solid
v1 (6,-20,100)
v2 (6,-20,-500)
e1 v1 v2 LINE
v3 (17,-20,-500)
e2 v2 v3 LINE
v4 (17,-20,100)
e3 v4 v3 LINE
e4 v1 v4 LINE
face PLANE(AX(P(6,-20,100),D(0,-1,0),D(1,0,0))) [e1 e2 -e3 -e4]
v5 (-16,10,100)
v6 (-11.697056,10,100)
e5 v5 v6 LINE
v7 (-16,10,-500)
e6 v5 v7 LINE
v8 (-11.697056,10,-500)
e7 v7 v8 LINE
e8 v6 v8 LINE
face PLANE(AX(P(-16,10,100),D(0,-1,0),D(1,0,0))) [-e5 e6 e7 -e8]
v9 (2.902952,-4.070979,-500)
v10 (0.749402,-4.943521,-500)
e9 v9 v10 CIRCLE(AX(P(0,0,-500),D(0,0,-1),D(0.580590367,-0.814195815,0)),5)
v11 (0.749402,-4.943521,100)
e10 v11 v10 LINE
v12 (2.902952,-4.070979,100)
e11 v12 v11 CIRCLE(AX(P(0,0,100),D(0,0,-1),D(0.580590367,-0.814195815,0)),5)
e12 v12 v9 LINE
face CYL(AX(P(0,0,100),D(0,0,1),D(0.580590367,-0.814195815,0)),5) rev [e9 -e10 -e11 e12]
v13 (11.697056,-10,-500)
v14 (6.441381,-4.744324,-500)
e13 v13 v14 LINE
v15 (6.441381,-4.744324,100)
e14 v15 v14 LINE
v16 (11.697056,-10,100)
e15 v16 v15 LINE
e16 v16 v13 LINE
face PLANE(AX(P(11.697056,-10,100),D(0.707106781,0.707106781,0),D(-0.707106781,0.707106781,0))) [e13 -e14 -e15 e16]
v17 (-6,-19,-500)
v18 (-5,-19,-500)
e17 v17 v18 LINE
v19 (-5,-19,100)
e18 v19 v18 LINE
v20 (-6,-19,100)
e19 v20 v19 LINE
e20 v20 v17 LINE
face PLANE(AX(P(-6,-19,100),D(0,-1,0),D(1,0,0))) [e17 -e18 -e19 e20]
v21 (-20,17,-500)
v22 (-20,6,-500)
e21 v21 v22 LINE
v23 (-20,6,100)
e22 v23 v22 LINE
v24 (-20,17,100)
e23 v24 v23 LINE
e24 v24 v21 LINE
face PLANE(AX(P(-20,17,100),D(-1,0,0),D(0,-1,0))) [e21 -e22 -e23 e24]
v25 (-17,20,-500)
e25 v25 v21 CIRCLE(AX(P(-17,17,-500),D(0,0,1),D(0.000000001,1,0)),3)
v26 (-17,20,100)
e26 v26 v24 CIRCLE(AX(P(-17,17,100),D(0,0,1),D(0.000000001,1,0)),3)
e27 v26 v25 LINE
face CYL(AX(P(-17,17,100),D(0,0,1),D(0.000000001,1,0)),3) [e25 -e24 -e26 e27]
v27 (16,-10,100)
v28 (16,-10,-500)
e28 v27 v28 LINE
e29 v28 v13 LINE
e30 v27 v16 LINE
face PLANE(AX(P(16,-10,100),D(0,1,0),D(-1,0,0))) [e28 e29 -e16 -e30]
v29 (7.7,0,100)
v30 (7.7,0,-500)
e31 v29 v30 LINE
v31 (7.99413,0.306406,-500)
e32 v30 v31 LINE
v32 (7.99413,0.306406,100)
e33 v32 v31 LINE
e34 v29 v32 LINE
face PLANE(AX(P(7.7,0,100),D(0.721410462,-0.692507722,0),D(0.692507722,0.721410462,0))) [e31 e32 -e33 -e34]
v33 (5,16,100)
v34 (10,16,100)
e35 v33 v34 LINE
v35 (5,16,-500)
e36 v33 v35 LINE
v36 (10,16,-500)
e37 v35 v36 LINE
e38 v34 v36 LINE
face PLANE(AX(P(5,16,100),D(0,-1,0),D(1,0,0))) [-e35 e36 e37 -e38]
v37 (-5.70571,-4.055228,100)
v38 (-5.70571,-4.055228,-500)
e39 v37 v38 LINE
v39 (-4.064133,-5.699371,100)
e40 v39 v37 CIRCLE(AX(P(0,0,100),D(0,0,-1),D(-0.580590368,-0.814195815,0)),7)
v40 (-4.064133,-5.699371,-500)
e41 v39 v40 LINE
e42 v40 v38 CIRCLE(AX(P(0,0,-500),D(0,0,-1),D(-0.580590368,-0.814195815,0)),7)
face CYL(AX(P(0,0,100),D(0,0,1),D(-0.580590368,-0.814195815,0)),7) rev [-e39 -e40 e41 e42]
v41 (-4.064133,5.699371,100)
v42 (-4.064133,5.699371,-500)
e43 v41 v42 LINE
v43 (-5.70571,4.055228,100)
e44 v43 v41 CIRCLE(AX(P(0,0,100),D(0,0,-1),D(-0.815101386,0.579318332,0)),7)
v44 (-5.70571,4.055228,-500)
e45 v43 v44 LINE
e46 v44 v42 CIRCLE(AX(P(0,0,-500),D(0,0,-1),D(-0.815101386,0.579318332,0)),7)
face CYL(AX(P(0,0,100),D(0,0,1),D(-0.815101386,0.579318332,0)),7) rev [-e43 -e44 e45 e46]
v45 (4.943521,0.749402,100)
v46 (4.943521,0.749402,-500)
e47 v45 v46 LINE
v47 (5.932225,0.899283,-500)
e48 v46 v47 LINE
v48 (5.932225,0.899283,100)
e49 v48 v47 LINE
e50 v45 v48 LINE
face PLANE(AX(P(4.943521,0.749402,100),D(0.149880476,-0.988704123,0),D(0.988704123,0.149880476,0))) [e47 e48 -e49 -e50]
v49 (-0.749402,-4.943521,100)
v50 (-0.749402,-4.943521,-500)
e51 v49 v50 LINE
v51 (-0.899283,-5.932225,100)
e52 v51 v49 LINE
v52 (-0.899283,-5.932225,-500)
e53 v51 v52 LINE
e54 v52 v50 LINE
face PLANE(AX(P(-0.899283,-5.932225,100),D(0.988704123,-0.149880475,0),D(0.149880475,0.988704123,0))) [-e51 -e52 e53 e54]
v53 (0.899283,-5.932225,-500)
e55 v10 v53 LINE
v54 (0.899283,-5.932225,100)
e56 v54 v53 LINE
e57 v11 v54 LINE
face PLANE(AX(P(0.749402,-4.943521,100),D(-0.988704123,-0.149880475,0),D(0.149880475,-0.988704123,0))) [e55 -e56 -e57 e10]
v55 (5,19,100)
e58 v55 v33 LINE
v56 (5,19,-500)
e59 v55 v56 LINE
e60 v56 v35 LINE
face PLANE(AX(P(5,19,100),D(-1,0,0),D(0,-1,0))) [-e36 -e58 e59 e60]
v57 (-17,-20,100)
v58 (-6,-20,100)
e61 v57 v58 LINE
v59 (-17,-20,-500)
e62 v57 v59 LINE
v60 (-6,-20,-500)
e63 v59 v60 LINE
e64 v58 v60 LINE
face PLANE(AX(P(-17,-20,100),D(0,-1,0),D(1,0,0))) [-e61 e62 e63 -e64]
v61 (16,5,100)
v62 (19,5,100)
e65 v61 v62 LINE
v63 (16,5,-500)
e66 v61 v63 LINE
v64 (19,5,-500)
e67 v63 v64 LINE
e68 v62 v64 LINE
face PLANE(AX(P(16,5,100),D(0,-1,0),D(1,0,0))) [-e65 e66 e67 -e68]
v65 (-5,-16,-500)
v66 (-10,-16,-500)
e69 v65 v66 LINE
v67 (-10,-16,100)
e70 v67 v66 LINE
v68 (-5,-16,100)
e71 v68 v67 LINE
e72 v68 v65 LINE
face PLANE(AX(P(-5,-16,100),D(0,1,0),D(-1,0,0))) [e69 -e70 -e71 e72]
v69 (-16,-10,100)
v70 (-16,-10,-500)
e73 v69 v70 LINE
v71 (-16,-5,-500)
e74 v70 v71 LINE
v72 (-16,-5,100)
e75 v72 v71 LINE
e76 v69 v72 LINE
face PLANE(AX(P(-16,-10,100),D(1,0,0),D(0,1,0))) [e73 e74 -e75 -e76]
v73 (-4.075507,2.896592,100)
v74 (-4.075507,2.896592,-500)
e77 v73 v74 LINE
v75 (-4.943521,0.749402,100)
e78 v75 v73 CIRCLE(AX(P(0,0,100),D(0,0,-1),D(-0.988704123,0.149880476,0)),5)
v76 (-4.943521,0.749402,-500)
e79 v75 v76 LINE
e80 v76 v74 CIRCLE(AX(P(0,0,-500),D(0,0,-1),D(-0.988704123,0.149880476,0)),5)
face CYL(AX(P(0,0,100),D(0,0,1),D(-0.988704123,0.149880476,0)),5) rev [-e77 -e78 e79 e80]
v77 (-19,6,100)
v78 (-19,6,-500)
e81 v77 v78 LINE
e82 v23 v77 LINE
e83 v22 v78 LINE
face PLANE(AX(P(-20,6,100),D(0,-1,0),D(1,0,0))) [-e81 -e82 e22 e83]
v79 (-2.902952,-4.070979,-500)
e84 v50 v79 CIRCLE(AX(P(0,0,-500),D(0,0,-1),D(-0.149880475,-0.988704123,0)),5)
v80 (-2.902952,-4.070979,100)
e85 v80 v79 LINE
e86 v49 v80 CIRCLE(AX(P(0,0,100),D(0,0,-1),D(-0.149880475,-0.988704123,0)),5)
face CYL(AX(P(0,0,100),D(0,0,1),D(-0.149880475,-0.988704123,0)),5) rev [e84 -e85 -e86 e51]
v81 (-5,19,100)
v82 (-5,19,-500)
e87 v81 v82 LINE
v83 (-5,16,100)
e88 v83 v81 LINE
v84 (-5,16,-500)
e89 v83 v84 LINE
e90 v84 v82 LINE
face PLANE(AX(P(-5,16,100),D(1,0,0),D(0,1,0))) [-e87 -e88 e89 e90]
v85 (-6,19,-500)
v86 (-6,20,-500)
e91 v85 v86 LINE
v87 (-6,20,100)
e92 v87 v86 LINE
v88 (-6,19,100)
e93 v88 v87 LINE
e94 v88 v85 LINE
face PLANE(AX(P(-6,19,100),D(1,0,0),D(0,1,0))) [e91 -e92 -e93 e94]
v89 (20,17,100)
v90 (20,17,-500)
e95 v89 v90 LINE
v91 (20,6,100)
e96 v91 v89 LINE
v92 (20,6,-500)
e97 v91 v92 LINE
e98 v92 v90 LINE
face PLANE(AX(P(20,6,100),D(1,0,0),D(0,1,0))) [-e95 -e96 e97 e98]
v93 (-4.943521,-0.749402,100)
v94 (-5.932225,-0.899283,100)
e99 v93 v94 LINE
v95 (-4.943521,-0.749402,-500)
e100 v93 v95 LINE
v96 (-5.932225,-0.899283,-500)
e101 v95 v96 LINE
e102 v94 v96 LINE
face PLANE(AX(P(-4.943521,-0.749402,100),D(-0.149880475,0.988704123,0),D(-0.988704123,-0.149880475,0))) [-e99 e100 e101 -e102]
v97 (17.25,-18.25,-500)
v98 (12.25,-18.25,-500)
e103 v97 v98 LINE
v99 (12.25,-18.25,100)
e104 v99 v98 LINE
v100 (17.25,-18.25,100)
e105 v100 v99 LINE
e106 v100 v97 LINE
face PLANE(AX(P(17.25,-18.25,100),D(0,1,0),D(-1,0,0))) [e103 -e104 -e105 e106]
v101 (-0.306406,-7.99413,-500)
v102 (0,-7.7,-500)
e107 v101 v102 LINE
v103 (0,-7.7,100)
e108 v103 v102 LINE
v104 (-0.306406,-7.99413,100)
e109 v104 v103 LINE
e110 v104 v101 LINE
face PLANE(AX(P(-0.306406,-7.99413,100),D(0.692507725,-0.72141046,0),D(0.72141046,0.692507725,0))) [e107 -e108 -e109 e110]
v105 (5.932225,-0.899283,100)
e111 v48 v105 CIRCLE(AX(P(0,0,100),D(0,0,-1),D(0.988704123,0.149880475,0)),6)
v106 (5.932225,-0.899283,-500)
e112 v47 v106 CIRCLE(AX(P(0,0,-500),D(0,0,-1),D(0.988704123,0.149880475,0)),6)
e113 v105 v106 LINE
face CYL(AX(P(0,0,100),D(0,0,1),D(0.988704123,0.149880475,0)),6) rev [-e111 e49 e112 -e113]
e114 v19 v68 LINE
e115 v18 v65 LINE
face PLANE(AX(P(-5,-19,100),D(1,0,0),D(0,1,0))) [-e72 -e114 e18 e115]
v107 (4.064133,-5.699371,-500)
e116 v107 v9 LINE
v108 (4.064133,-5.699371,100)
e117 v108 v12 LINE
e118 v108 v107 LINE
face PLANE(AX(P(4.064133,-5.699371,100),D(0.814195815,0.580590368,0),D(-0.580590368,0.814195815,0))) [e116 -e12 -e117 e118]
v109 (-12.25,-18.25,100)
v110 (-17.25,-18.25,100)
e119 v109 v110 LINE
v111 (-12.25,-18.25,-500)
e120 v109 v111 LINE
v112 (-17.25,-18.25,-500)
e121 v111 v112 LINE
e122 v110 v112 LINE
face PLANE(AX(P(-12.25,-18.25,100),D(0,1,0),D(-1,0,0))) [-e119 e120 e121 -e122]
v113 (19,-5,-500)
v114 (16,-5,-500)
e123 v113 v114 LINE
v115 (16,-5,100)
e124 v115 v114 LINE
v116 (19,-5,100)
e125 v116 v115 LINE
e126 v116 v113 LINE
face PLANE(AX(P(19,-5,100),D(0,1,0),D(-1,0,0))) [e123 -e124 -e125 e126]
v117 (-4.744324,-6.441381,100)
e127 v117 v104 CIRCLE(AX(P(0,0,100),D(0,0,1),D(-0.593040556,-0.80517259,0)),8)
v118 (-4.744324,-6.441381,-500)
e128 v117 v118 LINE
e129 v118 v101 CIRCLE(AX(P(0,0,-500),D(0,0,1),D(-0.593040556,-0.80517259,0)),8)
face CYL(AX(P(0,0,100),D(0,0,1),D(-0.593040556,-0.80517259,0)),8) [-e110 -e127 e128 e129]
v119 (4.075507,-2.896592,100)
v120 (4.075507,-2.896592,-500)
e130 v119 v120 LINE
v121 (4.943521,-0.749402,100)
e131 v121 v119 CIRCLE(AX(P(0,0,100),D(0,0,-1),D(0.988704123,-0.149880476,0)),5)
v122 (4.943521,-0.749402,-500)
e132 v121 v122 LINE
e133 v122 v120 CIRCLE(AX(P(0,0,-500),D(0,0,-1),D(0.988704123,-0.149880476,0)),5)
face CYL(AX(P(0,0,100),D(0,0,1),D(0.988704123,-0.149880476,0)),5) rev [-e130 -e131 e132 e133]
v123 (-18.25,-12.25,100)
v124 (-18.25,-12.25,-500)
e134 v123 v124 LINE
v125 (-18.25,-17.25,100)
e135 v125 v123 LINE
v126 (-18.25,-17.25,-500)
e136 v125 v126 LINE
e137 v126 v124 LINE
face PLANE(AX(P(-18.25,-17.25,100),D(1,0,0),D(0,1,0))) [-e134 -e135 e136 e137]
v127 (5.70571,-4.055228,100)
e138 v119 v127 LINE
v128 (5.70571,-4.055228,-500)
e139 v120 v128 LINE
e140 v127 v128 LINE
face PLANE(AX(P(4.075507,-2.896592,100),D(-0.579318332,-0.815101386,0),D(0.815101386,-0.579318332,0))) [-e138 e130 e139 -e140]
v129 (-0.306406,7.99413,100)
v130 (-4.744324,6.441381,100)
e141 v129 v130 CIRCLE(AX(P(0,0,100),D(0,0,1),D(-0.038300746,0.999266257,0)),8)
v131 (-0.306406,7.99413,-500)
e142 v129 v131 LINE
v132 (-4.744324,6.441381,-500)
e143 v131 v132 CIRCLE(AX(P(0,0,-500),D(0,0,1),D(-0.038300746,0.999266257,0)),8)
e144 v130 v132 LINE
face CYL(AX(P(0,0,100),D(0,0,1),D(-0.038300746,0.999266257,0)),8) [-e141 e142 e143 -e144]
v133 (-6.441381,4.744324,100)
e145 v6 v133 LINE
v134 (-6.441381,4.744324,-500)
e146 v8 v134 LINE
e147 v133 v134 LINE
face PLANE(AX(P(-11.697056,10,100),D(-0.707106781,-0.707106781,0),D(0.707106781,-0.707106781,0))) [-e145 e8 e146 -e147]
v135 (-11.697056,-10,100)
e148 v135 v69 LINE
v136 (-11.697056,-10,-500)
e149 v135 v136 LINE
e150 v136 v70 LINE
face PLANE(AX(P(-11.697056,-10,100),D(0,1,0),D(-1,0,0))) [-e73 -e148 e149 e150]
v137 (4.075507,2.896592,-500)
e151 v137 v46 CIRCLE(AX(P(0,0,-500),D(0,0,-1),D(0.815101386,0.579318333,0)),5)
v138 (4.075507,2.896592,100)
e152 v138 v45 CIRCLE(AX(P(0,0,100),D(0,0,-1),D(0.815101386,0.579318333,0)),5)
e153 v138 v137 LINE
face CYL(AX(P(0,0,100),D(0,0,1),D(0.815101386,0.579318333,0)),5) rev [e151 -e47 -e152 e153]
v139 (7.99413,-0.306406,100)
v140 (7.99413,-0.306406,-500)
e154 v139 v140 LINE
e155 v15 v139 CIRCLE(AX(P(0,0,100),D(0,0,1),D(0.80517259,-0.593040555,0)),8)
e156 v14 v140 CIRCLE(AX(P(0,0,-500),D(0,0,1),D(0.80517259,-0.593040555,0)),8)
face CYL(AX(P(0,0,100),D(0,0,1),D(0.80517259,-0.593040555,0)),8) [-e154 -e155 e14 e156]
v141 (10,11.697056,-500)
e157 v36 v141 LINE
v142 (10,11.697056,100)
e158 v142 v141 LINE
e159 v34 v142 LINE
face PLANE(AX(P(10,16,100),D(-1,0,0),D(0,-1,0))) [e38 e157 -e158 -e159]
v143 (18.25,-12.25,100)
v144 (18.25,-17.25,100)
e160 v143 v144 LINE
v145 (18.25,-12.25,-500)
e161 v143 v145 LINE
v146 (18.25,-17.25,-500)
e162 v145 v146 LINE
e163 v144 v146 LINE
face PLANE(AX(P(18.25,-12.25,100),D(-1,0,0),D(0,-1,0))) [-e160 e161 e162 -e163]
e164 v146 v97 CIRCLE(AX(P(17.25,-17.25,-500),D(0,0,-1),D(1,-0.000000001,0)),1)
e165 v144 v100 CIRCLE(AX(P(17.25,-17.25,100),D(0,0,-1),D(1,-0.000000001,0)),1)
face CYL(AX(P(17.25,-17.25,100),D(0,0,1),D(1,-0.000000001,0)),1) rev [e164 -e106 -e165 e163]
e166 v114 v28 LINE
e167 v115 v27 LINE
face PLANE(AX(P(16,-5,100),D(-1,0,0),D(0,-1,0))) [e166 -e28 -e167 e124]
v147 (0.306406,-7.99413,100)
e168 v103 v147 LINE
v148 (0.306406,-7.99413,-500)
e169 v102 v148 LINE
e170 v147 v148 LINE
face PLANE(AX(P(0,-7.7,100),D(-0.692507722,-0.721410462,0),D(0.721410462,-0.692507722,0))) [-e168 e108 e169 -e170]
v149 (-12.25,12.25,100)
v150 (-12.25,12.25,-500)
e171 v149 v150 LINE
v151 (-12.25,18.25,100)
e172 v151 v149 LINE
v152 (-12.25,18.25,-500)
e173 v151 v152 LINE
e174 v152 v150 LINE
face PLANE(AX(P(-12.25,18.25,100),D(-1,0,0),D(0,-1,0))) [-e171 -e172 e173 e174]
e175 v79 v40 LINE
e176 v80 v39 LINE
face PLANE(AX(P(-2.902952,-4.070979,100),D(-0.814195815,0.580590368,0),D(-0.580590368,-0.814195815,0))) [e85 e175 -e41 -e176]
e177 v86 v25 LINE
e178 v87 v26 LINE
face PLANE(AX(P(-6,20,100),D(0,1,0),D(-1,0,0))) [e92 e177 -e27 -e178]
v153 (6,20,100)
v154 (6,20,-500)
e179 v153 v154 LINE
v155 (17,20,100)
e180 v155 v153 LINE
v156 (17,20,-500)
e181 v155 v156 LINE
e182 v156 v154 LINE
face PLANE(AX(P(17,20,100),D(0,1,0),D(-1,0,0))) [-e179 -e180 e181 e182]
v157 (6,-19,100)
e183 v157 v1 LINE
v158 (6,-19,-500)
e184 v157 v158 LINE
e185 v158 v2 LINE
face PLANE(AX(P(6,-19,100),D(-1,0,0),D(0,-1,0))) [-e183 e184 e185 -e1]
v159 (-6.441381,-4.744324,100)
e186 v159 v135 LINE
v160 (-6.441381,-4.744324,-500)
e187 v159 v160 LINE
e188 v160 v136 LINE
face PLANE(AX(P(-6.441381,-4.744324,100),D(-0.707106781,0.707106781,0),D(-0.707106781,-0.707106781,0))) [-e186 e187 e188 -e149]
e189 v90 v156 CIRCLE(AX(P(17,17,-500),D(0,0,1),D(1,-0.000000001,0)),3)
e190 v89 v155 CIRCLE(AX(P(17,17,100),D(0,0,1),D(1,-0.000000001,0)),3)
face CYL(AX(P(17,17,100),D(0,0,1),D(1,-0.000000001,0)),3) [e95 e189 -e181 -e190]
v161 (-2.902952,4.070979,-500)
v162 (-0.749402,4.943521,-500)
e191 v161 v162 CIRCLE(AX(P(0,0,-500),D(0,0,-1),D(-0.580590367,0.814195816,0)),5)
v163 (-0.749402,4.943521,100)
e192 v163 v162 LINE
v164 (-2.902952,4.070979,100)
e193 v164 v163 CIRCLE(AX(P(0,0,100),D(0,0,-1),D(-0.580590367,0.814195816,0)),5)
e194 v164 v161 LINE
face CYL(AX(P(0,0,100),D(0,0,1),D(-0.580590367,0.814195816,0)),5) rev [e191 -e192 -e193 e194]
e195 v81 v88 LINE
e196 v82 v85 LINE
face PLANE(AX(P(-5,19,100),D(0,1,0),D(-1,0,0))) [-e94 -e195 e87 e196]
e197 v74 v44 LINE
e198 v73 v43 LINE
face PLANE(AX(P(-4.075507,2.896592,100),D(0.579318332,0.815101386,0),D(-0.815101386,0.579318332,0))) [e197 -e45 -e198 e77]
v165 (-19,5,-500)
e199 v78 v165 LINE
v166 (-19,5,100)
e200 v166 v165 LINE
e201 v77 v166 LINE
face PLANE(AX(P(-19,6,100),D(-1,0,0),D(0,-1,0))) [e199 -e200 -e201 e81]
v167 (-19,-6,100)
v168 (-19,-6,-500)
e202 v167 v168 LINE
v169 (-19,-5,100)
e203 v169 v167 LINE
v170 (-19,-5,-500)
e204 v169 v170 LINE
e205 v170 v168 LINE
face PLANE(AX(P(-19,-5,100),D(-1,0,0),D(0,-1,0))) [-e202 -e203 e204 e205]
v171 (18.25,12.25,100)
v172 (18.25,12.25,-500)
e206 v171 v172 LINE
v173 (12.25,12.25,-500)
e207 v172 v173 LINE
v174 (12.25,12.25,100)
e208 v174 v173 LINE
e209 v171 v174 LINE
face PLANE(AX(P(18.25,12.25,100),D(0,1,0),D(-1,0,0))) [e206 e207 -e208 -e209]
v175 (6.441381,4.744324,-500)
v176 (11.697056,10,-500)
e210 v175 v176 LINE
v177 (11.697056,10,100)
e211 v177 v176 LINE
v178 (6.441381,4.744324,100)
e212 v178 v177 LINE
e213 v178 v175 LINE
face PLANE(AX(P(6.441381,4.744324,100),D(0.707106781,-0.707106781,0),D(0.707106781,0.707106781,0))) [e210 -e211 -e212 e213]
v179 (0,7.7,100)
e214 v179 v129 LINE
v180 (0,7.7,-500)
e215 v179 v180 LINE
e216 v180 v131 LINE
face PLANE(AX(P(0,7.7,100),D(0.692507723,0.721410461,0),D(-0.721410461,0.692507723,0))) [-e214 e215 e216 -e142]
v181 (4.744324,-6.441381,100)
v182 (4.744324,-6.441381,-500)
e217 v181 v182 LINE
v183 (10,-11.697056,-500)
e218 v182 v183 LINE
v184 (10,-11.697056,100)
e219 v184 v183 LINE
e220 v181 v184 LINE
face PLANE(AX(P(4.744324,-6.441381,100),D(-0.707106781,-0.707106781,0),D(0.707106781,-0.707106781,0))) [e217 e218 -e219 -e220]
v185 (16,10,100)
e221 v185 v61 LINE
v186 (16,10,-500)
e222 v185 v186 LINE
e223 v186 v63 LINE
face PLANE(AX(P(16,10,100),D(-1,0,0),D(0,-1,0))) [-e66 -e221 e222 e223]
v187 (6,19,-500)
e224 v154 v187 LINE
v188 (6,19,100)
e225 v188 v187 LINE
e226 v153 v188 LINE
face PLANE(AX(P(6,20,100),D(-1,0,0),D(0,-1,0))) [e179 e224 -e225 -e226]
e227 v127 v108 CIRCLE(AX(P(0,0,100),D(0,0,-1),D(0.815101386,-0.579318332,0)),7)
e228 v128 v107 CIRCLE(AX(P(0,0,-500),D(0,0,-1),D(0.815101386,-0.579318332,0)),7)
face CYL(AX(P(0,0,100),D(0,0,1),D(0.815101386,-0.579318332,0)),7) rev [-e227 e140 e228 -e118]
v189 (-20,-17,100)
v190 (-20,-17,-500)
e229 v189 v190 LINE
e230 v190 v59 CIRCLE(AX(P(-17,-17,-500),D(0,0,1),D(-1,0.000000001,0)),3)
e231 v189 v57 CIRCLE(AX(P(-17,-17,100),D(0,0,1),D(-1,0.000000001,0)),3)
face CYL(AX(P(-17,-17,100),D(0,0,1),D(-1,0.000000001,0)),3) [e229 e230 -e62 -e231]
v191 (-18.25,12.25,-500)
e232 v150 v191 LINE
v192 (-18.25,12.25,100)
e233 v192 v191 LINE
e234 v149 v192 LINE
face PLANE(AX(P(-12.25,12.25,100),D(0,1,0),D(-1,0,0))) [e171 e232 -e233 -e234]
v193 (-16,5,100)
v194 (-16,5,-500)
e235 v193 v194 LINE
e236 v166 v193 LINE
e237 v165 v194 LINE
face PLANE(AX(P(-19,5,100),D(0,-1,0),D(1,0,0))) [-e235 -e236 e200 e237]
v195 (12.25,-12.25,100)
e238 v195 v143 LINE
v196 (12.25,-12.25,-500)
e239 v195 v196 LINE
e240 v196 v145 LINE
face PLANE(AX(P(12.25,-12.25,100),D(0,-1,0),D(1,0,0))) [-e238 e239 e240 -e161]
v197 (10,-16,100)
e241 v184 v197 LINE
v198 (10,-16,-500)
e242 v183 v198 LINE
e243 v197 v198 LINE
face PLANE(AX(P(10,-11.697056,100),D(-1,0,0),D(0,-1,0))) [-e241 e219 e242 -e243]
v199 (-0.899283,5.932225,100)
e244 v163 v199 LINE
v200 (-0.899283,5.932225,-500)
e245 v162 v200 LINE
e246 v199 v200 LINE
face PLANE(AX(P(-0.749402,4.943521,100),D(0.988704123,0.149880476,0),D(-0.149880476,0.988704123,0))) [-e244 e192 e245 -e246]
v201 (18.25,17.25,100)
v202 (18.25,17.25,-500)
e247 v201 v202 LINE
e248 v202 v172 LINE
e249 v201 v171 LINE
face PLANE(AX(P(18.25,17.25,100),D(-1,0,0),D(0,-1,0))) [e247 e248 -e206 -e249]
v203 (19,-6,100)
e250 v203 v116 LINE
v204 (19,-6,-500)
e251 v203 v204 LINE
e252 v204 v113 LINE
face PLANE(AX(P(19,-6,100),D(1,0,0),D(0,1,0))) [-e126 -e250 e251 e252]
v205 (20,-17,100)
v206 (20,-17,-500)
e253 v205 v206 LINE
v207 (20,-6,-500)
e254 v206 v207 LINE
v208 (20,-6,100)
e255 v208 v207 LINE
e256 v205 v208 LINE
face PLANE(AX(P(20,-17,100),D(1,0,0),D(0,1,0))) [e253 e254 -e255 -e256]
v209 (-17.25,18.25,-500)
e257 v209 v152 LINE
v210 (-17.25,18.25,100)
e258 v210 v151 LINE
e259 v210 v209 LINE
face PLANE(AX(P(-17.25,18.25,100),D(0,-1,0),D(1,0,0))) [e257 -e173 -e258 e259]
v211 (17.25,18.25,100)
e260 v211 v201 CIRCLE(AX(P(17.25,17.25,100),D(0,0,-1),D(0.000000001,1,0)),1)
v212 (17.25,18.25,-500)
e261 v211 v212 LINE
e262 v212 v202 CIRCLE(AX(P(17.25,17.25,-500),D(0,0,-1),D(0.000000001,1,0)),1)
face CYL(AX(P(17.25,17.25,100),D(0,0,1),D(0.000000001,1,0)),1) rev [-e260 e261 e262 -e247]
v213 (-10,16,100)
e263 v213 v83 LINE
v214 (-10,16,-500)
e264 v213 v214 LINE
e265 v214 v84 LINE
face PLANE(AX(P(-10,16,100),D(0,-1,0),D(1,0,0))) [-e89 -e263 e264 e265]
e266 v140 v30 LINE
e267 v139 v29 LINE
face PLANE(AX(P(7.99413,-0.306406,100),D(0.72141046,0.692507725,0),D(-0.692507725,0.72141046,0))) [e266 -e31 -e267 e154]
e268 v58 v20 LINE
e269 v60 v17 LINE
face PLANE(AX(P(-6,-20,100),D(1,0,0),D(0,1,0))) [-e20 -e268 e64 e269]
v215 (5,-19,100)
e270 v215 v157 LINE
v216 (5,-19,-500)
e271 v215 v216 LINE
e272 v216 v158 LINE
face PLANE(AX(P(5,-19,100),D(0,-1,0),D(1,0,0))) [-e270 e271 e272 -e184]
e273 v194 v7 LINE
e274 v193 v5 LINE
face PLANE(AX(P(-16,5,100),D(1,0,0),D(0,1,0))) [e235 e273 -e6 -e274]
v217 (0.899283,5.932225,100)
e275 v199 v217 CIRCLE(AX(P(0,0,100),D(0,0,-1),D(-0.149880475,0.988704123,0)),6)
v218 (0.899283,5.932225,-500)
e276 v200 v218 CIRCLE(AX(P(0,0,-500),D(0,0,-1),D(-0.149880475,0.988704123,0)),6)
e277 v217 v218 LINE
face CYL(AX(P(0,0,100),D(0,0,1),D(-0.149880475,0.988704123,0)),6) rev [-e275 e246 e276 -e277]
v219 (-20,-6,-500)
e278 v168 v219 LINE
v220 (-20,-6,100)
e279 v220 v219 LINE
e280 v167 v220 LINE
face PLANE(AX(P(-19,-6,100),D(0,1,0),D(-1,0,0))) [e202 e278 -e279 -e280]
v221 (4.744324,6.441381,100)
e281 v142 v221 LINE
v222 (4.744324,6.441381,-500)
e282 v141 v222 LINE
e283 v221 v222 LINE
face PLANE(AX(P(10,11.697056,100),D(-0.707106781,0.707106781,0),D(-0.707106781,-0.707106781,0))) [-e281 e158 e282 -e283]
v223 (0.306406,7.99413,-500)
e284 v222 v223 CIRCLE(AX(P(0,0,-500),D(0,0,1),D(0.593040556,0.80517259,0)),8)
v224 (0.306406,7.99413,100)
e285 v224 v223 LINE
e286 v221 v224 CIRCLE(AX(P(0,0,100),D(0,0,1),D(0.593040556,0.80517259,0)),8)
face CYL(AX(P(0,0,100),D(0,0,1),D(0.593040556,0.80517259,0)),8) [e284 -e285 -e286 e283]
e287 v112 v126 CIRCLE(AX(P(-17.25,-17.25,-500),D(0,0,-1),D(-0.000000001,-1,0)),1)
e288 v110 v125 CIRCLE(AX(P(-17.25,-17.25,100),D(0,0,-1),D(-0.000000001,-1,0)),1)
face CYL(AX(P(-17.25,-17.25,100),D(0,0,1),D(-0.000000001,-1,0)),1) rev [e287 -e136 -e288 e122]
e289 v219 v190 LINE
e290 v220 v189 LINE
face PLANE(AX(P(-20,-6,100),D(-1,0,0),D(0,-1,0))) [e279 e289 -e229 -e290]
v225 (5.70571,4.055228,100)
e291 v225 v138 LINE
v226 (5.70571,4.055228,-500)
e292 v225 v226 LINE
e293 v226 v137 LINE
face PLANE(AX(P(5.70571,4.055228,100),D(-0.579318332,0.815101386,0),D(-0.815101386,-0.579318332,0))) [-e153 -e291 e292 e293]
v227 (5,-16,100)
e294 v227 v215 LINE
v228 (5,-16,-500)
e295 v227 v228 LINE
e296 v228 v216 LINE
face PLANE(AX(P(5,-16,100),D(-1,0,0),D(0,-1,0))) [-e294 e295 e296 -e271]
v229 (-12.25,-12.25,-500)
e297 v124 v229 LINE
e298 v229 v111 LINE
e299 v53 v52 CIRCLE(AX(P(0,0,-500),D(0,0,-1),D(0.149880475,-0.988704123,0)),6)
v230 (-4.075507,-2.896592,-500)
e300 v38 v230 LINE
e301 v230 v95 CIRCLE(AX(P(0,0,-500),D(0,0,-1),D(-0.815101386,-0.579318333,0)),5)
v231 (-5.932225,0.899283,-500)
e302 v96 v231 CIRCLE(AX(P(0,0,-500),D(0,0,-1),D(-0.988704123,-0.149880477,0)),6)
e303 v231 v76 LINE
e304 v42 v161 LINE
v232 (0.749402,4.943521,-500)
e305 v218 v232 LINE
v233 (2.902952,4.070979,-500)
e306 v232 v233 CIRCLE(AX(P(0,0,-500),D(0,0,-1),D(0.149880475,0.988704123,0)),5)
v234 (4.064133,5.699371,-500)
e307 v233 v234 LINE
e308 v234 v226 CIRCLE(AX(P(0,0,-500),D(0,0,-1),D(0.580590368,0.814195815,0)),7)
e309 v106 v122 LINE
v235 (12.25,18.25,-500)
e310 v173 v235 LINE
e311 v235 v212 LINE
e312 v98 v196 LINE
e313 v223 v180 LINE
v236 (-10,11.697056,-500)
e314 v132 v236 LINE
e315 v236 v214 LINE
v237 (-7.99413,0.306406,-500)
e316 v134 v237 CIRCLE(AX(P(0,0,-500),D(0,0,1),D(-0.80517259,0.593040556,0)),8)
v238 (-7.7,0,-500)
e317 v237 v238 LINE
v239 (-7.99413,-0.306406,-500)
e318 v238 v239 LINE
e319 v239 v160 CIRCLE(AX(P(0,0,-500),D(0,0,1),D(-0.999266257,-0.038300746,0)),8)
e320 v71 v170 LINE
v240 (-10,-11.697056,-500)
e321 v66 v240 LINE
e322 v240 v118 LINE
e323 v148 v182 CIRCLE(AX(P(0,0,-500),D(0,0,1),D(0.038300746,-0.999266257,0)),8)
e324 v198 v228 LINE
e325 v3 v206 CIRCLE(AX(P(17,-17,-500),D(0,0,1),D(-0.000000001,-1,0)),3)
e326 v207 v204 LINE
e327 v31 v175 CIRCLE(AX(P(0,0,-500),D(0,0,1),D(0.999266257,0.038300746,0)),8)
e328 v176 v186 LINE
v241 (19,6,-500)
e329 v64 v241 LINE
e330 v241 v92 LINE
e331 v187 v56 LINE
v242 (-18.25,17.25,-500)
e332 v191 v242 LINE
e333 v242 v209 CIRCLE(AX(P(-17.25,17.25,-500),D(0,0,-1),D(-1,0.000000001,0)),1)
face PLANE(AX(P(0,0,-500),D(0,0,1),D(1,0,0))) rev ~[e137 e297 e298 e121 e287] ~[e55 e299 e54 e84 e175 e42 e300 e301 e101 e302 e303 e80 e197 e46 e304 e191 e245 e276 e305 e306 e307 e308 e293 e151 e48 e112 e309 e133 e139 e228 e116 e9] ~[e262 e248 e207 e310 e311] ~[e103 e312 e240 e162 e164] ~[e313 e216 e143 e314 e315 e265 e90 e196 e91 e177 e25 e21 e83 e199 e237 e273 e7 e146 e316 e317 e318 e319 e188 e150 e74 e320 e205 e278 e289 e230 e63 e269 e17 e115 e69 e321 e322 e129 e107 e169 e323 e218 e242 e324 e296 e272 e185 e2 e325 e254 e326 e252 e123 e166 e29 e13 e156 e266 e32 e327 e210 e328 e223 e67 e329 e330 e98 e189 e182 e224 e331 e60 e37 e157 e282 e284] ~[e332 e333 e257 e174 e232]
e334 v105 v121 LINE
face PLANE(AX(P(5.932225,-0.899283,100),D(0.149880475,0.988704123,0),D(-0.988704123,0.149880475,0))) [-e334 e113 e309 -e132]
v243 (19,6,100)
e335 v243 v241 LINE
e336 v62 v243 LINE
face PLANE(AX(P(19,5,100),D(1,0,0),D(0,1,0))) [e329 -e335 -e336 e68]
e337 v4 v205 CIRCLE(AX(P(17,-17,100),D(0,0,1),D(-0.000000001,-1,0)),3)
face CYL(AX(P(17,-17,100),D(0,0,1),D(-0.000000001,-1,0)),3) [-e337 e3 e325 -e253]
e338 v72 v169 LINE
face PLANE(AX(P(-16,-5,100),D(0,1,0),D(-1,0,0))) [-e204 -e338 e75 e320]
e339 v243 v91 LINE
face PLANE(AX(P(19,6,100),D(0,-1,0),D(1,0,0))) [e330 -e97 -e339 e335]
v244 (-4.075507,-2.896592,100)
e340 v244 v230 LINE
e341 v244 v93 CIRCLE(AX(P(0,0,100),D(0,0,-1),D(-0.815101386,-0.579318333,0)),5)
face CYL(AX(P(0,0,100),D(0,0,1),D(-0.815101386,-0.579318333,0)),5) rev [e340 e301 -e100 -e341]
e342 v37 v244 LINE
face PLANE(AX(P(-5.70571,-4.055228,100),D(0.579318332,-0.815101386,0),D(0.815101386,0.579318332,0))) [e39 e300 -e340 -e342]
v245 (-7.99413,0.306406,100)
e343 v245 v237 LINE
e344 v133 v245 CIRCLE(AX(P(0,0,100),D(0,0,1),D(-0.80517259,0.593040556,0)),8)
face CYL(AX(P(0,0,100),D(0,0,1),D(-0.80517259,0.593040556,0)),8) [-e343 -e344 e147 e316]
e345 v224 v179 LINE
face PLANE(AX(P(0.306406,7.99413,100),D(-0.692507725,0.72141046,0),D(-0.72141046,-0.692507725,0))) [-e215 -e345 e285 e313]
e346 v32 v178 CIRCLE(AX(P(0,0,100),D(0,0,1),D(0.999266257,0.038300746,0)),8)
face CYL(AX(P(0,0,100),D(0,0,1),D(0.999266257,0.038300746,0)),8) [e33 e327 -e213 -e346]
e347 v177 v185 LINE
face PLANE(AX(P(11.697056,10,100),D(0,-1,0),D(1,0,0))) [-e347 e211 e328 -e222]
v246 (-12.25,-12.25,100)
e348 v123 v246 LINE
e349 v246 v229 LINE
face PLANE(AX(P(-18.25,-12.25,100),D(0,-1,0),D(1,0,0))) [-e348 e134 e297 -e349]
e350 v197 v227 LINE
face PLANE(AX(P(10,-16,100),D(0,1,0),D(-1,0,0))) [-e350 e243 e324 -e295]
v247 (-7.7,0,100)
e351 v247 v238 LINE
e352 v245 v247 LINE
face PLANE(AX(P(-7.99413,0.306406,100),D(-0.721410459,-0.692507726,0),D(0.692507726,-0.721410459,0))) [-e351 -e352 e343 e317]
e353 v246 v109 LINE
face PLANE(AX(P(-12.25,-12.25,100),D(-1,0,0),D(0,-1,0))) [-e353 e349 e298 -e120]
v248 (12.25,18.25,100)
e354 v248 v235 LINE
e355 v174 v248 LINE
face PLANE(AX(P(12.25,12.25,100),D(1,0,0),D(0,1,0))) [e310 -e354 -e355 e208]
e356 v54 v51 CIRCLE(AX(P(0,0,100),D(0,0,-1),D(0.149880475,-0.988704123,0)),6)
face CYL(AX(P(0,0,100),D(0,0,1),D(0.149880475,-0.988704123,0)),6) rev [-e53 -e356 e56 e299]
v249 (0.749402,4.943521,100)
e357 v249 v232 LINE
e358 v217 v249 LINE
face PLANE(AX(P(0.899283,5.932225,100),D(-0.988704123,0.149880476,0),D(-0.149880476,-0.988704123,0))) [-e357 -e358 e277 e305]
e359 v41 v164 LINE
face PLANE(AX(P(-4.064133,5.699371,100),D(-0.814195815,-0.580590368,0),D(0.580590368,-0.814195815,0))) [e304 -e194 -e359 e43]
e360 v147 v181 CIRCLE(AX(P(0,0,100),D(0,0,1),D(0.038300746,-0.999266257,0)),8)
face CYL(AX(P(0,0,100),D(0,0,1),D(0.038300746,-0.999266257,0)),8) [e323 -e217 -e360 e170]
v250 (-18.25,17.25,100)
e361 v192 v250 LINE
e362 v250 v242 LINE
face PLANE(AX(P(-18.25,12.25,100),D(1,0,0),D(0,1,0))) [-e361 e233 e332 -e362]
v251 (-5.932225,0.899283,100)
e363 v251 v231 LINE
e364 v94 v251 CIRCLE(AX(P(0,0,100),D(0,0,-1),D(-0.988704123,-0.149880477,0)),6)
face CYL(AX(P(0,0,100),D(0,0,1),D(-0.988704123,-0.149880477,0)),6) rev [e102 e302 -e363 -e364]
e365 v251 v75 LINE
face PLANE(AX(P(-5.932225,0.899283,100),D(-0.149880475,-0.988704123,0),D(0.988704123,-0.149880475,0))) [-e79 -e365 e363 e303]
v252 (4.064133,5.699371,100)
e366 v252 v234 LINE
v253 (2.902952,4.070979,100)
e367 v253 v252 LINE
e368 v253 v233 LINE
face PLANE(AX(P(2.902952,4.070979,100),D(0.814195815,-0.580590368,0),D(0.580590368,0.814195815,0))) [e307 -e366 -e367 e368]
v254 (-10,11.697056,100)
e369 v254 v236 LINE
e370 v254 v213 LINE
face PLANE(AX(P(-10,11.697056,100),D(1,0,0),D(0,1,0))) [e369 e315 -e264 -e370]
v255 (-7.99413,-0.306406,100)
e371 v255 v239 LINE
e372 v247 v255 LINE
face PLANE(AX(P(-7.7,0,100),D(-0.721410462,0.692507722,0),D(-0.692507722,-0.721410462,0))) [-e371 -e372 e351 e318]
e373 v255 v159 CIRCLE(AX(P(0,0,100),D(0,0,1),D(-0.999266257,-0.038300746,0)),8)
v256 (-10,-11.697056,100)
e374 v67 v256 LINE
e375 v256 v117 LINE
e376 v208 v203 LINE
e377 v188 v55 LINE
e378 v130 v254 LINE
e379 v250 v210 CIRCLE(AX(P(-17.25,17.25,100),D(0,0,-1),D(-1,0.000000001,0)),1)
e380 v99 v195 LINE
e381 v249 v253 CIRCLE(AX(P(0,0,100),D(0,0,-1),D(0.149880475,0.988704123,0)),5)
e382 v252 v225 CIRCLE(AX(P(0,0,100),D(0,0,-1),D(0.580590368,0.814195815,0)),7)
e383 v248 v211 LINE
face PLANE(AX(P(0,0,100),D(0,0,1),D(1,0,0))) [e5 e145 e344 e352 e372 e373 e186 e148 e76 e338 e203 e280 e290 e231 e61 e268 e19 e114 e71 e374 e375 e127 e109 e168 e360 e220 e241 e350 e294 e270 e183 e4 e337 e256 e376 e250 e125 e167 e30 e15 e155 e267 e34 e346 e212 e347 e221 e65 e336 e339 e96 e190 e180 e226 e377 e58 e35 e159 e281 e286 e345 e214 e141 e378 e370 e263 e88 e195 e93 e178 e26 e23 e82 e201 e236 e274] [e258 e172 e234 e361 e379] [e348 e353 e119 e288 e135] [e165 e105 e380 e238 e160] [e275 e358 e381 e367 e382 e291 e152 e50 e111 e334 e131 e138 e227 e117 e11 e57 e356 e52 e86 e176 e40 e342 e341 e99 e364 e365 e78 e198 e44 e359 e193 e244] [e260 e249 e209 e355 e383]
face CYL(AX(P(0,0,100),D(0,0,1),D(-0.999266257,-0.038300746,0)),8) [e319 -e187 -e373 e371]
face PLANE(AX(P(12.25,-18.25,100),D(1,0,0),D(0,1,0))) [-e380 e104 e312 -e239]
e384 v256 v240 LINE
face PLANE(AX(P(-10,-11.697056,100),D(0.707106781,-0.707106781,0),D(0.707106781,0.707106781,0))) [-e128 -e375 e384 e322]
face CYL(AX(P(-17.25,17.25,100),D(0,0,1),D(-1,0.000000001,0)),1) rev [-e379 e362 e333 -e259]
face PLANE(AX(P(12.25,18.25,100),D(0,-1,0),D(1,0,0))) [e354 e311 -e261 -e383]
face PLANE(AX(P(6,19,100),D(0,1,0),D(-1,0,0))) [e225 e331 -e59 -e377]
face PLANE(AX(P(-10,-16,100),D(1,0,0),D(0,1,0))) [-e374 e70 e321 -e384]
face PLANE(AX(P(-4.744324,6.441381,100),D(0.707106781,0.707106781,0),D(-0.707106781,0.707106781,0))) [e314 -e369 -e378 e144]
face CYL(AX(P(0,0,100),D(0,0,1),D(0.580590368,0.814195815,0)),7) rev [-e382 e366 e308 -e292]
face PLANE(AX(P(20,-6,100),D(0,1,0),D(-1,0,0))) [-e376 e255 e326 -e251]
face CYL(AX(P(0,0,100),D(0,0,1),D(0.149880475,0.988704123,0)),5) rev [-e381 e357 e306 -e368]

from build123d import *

# Parameters (mm, degrees)
BOSS_EXTRU_1_DEPTH = 600


with BuildPart() as part:
    # Esquisse1 → Boss.-Extru.1 (new body)
    with BuildSketch(Plane.XY.offset(100)):
        with BuildLine():
            Line((6, -19), (6, -20))
            Line((6, -20), (17, -20))
            ThreePointArc((17, -20), (19.121320344, -19.121320344), (20, -17))
            Line((20, -17), (20, -6))
            Line((20, -6), (19, -6))
            Line((19, -6), (19, -5))
            Line((19, -5), (16, -5))
            Line((16, -5), (16, -10))
            Line((16, -10), (11.697056276, -10))
            Line((11.697056276, -10), (6.44138072, -4.744324444))
            ThreePointArc((6.44138072, -4.744324444), (7.551143817, -2.642011933), (7.994130058, -0.306405969))
            Line((7.994130058, -0.306405969), (7.7, 0))
            Line((7.7, 0), (7.994130058, 0.306405971))
            ThreePointArc((7.994130058, 0.306405971), (7.551143817, 2.642011934), (6.441380719, 4.744324444))
            Line((6.441380719, 4.744324444), (11.697056275, 10))
            Line((11.697056275, 10), (16, 10))
            Line((16, 10), (16, 5))
            Line((16, 5), (19, 5))
            Line((19, 5), (19, 6))
            Line((19, 6), (20, 6))
            Line((20, 6), (20, 17))
            ThreePointArc((20, 17), (19.121320344, 19.121320344), (17, 20))
            Line((17, 20), (6, 20))
            Line((6, 20), (6, 19))
            Line((6, 19), (5, 19))
            Line((5, 19), (5, 15.999999999))
            Line((5, 15.999999999), (10.000000001, 15.999999999))
            Line((10.000000001, 15.999999999), (10.000000001, 11.697056275))
            Line((10.000000001, 11.697056275), (4.744324444, 6.441380719))
            ThreePointArc((4.744324444, 6.441380719), (2.642011933, 7.551143817), (0.306405969, 7.994130058))
            Line((0.306405969, 7.994130058), (0, 7.7))
            Line((0, 7.7), (-0.30640597, 7.994130058))
            ThreePointArc((-0.30640597, 7.994130058), (-2.642011933, 7.551143817), (-4.744324444, 6.441380719))
            Line((-4.744324444, 6.441380719), (-9.999999999, 11.697056274))
            Line((-9.999999999, 11.697056274), (-9.999999999, 15.999999999))
            Line((-9.999999999, 15.999999999), (-5, 15.999999999))
            Line((-5, 15.999999999), (-5, 19))
            Line((-5, 19), (-6, 19))
            Line((-6, 19), (-6, 20))
            Line((-6, 20), (-17, 20))
            ThreePointArc((-17, 20), (-19.121320344, 19.121320344), (-20, 17))
            Line((-20, 17), (-20, 6))
            Line((-20, 6), (-19, 6))
            Line((-19, 6), (-19, 5))
            Line((-19, 5), (-16, 5))
            Line((-16, 5), (-16, 10))
            Line((-16, 10), (-11.697056274, 10))
            Line((-11.697056274, 10), (-6.441380718, 4.744324445))
            ThreePointArc((-6.441380718, 4.744324445), (-7.551143817, 2.642011933), (-7.994130058, 0.306405969))
            Line((-7.994130058, 0.306405969), (-7.699999999, 0))
            Line((-7.699999999, 0), (-7.994130057, -0.306405971))
            ThreePointArc((-7.994130057, -0.306405971), (-7.551143816, -2.642011934), (-6.441380719, -4.744324444))
            Line((-6.441380719, -4.744324444), (-11.697056275, -10))
            Line((-11.697056275, -10), (-16, -10))
            Line((-16, -10), (-16, -5))
            Line((-16, -5), (-19, -5))
            Line((-19, -5), (-19, -6))
            Line((-19, -6), (-20, -6))
            Line((-20, -6), (-20, -17))
            ThreePointArc((-20, -17), (-19.121320344, -19.121320344), (-17, -20))
            Line((-17, -20), (-6, -20))
            Line((-6, -20), (-6, -19))
            Line((-6, -19), (-5, -19))
            Line((-5, -19), (-5, -16.000000001))
            Line((-5, -16.000000001), (-9.999999999, -16.000000001))
            Line((-9.999999999, -16.000000001), (-9.999999999, -11.697056274))
            Line((-9.999999999, -11.697056274), (-4.744324444, -6.441380719))
            ThreePointArc((-4.744324444, -6.441380719), (-2.642011933, -7.551143817), (-0.306405969, -7.994130058))
            Line((-0.306405969, -7.994130058), (0, -7.7))
            Line((0, -7.7), (0.306405971, -7.994130058))
            ThreePointArc((0.306405971, -7.994130058), (2.642011934, -7.551143817), (4.744324445, -6.441380719))
            Line((4.744324445, -6.441380719), (10.000000001, -11.697056274))
            Line((10.000000001, -11.697056274), (10.000000001, -16.000000001))
            Line((10.000000001, -16.000000001), (5, -16.000000001))
            Line((5, -16.000000001), (5, -19))
            Line((5, -19), (6, -19))
        make_face()
        with BuildLine():
            Line((18.25, 12.25), (12.25, 12.25))
            Line((12.25, 12.25), (12.25, 18.25))
            Line((12.25, 18.25), (17.25, 18.25))
            ThreePointArc((17.25, 18.25), (17.957106781, 17.957106781), (18.25, 17.25))
            Line((18.25, 17.25), (18.25, 12.25))
        make_face(mode=Mode.SUBTRACT)
        with BuildLine():
            Line((-18.25, -12.25), (-12.25, -12.25))
            Line((-12.25, -12.25), (-12.25, -18.25))
            Line((-12.25, -18.25), (-17.25, -18.25))
            ThreePointArc((-17.25, -18.25), (-17.957106781, -17.957106781), (-18.25, -17.25))
            Line((-18.25, -17.25), (-18.25, -12.25))
        make_face(mode=Mode.SUBTRACT)
        with BuildLine():
            Line((-12.25, 18.25), (-12.25, 12.25))
            Line((-12.25, 12.25), (-18.25, 12.25))
            Line((-18.25, 12.25), (-18.25, 17.25))
            ThreePointArc((-18.25, 17.25), (-17.957106781, 17.957106781), (-17.25, 18.25))
            Line((-17.25, 18.25), (-12.25, 18.25))
        make_face(mode=Mode.SUBTRACT)
        with BuildLine():
            Line((12.25, -18.25), (12.25, -12.25))
            Line((12.25, -12.25), (18.25, -12.25))
            Line((18.25, -12.25), (18.25, -17.25))
            ThreePointArc((18.25, -17.25), (17.957106781, -17.957106781), (17.25, -18.25))
            Line((17.25, -18.25), (12.25, -18.25))
        make_face(mode=Mode.SUBTRACT)
        with BuildLine():
            Line((-5.705709703, -4.055228326), (-4.075506937, -2.896591666))
            ThreePointArc((-4.075506937, -2.896591666), (-4.635549589, -1.873947727), (-4.943520622, -0.749402378))
            Line((-4.943520622, -0.749402378), (-5.932224738, -0.899282852))
            ThreePointArc((-5.932224738, -0.899282852), (-6, 0), (-5.932224738, 0.899282853))
            Line((-5.932224738, 0.899282853), (-4.943520622, 0.749402379))
            ThreePointArc((-4.943520622, 0.749402379), (-4.635549588, 1.873947727), (-4.075506937, 2.896591666))
            Line((-4.075506937, 2.896591666), (-5.705709704, 4.055228326))
            ThreePointArc((-5.705709704, 4.055228326), (-4.953610357, 4.945881563), (-4.064132573, 5.699370705))
            Line((-4.064132573, 5.699370705), (-2.902951842, 4.070979081))
            ThreePointArc((-2.902951842, 4.070979081), (-1.877566249, 4.634085136), (-0.749402377, 4.943520623))
            Line((-0.749402377, 4.943520623), (-0.899282852, 5.932224739))
            ThreePointArc((-0.899282852, 5.932224739), (0, 6), (0.899282852, 5.932224739))
            Line((0.899282852, 5.932224739), (0.749402377, 4.943520623))
            ThreePointArc((0.749402377, 4.943520623), (1.87756625, 4.634085136), (2.902951843, 4.07097908))
            Line((2.902951843, 4.07097908), (4.064132575, 5.699370704))
            ThreePointArc((4.064132575, 5.699370704), (4.953610358, 4.945881562), (5.705709704, 4.055228326))
            Line((5.705709704, 4.055228326), (4.075506937, 2.896591666))
            ThreePointArc((4.075506937, 2.896591666), (4.635549589, 1.873947727), (4.943520623, 0.749402378))
            Line((4.943520623, 0.749402378), (5.932224739, 0.899282853))
            ThreePointArc((5.932224739, 0.899282853), (6, 0), (5.932224739, -0.899282853))
            Line((5.932224739, -0.899282853), (4.943520623, -0.749402379))
            ThreePointArc((4.943520623, -0.749402379), (4.635549589, -1.873947727), (4.075506938, -2.896591666))
            Line((4.075506938, -2.896591666), (5.705709704, -4.055228326))
            ThreePointArc((5.705709704, -4.055228326), (4.953610357, -4.945881563), (4.064132573, -5.699370705))
            Line((4.064132573, -5.699370705), (2.902951842, -4.070979081))
            ThreePointArc((2.902951842, -4.070979081), (1.87756625, -4.634085136), (0.749402378, -4.943520623))
            Line((0.749402378, -4.943520623), (0.899282852, -5.932224739))
            ThreePointArc((0.899282852, -5.932224739), (1e-09, -6), (-0.899282851, -5.932224739))
            Line((-0.899282851, -5.932224739), (-0.749402377, -4.943520623))
            ThreePointArc((-0.749402377, -4.943520623), (-1.87756625, -4.634085136), (-2.902951843, -4.07097908))
            Line((-2.902951843, -4.07097908), (-4.064132574, -5.699370704))
            ThreePointArc((-4.064132574, -5.699370704), (-4.953610357, -4.945881562), (-5.705709703, -4.055228326))
        make_face(mode=Mode.SUBTRACT)
    extrude(amount=-BOSS_EXTRU_1_DEPTH)


solid = part.part
